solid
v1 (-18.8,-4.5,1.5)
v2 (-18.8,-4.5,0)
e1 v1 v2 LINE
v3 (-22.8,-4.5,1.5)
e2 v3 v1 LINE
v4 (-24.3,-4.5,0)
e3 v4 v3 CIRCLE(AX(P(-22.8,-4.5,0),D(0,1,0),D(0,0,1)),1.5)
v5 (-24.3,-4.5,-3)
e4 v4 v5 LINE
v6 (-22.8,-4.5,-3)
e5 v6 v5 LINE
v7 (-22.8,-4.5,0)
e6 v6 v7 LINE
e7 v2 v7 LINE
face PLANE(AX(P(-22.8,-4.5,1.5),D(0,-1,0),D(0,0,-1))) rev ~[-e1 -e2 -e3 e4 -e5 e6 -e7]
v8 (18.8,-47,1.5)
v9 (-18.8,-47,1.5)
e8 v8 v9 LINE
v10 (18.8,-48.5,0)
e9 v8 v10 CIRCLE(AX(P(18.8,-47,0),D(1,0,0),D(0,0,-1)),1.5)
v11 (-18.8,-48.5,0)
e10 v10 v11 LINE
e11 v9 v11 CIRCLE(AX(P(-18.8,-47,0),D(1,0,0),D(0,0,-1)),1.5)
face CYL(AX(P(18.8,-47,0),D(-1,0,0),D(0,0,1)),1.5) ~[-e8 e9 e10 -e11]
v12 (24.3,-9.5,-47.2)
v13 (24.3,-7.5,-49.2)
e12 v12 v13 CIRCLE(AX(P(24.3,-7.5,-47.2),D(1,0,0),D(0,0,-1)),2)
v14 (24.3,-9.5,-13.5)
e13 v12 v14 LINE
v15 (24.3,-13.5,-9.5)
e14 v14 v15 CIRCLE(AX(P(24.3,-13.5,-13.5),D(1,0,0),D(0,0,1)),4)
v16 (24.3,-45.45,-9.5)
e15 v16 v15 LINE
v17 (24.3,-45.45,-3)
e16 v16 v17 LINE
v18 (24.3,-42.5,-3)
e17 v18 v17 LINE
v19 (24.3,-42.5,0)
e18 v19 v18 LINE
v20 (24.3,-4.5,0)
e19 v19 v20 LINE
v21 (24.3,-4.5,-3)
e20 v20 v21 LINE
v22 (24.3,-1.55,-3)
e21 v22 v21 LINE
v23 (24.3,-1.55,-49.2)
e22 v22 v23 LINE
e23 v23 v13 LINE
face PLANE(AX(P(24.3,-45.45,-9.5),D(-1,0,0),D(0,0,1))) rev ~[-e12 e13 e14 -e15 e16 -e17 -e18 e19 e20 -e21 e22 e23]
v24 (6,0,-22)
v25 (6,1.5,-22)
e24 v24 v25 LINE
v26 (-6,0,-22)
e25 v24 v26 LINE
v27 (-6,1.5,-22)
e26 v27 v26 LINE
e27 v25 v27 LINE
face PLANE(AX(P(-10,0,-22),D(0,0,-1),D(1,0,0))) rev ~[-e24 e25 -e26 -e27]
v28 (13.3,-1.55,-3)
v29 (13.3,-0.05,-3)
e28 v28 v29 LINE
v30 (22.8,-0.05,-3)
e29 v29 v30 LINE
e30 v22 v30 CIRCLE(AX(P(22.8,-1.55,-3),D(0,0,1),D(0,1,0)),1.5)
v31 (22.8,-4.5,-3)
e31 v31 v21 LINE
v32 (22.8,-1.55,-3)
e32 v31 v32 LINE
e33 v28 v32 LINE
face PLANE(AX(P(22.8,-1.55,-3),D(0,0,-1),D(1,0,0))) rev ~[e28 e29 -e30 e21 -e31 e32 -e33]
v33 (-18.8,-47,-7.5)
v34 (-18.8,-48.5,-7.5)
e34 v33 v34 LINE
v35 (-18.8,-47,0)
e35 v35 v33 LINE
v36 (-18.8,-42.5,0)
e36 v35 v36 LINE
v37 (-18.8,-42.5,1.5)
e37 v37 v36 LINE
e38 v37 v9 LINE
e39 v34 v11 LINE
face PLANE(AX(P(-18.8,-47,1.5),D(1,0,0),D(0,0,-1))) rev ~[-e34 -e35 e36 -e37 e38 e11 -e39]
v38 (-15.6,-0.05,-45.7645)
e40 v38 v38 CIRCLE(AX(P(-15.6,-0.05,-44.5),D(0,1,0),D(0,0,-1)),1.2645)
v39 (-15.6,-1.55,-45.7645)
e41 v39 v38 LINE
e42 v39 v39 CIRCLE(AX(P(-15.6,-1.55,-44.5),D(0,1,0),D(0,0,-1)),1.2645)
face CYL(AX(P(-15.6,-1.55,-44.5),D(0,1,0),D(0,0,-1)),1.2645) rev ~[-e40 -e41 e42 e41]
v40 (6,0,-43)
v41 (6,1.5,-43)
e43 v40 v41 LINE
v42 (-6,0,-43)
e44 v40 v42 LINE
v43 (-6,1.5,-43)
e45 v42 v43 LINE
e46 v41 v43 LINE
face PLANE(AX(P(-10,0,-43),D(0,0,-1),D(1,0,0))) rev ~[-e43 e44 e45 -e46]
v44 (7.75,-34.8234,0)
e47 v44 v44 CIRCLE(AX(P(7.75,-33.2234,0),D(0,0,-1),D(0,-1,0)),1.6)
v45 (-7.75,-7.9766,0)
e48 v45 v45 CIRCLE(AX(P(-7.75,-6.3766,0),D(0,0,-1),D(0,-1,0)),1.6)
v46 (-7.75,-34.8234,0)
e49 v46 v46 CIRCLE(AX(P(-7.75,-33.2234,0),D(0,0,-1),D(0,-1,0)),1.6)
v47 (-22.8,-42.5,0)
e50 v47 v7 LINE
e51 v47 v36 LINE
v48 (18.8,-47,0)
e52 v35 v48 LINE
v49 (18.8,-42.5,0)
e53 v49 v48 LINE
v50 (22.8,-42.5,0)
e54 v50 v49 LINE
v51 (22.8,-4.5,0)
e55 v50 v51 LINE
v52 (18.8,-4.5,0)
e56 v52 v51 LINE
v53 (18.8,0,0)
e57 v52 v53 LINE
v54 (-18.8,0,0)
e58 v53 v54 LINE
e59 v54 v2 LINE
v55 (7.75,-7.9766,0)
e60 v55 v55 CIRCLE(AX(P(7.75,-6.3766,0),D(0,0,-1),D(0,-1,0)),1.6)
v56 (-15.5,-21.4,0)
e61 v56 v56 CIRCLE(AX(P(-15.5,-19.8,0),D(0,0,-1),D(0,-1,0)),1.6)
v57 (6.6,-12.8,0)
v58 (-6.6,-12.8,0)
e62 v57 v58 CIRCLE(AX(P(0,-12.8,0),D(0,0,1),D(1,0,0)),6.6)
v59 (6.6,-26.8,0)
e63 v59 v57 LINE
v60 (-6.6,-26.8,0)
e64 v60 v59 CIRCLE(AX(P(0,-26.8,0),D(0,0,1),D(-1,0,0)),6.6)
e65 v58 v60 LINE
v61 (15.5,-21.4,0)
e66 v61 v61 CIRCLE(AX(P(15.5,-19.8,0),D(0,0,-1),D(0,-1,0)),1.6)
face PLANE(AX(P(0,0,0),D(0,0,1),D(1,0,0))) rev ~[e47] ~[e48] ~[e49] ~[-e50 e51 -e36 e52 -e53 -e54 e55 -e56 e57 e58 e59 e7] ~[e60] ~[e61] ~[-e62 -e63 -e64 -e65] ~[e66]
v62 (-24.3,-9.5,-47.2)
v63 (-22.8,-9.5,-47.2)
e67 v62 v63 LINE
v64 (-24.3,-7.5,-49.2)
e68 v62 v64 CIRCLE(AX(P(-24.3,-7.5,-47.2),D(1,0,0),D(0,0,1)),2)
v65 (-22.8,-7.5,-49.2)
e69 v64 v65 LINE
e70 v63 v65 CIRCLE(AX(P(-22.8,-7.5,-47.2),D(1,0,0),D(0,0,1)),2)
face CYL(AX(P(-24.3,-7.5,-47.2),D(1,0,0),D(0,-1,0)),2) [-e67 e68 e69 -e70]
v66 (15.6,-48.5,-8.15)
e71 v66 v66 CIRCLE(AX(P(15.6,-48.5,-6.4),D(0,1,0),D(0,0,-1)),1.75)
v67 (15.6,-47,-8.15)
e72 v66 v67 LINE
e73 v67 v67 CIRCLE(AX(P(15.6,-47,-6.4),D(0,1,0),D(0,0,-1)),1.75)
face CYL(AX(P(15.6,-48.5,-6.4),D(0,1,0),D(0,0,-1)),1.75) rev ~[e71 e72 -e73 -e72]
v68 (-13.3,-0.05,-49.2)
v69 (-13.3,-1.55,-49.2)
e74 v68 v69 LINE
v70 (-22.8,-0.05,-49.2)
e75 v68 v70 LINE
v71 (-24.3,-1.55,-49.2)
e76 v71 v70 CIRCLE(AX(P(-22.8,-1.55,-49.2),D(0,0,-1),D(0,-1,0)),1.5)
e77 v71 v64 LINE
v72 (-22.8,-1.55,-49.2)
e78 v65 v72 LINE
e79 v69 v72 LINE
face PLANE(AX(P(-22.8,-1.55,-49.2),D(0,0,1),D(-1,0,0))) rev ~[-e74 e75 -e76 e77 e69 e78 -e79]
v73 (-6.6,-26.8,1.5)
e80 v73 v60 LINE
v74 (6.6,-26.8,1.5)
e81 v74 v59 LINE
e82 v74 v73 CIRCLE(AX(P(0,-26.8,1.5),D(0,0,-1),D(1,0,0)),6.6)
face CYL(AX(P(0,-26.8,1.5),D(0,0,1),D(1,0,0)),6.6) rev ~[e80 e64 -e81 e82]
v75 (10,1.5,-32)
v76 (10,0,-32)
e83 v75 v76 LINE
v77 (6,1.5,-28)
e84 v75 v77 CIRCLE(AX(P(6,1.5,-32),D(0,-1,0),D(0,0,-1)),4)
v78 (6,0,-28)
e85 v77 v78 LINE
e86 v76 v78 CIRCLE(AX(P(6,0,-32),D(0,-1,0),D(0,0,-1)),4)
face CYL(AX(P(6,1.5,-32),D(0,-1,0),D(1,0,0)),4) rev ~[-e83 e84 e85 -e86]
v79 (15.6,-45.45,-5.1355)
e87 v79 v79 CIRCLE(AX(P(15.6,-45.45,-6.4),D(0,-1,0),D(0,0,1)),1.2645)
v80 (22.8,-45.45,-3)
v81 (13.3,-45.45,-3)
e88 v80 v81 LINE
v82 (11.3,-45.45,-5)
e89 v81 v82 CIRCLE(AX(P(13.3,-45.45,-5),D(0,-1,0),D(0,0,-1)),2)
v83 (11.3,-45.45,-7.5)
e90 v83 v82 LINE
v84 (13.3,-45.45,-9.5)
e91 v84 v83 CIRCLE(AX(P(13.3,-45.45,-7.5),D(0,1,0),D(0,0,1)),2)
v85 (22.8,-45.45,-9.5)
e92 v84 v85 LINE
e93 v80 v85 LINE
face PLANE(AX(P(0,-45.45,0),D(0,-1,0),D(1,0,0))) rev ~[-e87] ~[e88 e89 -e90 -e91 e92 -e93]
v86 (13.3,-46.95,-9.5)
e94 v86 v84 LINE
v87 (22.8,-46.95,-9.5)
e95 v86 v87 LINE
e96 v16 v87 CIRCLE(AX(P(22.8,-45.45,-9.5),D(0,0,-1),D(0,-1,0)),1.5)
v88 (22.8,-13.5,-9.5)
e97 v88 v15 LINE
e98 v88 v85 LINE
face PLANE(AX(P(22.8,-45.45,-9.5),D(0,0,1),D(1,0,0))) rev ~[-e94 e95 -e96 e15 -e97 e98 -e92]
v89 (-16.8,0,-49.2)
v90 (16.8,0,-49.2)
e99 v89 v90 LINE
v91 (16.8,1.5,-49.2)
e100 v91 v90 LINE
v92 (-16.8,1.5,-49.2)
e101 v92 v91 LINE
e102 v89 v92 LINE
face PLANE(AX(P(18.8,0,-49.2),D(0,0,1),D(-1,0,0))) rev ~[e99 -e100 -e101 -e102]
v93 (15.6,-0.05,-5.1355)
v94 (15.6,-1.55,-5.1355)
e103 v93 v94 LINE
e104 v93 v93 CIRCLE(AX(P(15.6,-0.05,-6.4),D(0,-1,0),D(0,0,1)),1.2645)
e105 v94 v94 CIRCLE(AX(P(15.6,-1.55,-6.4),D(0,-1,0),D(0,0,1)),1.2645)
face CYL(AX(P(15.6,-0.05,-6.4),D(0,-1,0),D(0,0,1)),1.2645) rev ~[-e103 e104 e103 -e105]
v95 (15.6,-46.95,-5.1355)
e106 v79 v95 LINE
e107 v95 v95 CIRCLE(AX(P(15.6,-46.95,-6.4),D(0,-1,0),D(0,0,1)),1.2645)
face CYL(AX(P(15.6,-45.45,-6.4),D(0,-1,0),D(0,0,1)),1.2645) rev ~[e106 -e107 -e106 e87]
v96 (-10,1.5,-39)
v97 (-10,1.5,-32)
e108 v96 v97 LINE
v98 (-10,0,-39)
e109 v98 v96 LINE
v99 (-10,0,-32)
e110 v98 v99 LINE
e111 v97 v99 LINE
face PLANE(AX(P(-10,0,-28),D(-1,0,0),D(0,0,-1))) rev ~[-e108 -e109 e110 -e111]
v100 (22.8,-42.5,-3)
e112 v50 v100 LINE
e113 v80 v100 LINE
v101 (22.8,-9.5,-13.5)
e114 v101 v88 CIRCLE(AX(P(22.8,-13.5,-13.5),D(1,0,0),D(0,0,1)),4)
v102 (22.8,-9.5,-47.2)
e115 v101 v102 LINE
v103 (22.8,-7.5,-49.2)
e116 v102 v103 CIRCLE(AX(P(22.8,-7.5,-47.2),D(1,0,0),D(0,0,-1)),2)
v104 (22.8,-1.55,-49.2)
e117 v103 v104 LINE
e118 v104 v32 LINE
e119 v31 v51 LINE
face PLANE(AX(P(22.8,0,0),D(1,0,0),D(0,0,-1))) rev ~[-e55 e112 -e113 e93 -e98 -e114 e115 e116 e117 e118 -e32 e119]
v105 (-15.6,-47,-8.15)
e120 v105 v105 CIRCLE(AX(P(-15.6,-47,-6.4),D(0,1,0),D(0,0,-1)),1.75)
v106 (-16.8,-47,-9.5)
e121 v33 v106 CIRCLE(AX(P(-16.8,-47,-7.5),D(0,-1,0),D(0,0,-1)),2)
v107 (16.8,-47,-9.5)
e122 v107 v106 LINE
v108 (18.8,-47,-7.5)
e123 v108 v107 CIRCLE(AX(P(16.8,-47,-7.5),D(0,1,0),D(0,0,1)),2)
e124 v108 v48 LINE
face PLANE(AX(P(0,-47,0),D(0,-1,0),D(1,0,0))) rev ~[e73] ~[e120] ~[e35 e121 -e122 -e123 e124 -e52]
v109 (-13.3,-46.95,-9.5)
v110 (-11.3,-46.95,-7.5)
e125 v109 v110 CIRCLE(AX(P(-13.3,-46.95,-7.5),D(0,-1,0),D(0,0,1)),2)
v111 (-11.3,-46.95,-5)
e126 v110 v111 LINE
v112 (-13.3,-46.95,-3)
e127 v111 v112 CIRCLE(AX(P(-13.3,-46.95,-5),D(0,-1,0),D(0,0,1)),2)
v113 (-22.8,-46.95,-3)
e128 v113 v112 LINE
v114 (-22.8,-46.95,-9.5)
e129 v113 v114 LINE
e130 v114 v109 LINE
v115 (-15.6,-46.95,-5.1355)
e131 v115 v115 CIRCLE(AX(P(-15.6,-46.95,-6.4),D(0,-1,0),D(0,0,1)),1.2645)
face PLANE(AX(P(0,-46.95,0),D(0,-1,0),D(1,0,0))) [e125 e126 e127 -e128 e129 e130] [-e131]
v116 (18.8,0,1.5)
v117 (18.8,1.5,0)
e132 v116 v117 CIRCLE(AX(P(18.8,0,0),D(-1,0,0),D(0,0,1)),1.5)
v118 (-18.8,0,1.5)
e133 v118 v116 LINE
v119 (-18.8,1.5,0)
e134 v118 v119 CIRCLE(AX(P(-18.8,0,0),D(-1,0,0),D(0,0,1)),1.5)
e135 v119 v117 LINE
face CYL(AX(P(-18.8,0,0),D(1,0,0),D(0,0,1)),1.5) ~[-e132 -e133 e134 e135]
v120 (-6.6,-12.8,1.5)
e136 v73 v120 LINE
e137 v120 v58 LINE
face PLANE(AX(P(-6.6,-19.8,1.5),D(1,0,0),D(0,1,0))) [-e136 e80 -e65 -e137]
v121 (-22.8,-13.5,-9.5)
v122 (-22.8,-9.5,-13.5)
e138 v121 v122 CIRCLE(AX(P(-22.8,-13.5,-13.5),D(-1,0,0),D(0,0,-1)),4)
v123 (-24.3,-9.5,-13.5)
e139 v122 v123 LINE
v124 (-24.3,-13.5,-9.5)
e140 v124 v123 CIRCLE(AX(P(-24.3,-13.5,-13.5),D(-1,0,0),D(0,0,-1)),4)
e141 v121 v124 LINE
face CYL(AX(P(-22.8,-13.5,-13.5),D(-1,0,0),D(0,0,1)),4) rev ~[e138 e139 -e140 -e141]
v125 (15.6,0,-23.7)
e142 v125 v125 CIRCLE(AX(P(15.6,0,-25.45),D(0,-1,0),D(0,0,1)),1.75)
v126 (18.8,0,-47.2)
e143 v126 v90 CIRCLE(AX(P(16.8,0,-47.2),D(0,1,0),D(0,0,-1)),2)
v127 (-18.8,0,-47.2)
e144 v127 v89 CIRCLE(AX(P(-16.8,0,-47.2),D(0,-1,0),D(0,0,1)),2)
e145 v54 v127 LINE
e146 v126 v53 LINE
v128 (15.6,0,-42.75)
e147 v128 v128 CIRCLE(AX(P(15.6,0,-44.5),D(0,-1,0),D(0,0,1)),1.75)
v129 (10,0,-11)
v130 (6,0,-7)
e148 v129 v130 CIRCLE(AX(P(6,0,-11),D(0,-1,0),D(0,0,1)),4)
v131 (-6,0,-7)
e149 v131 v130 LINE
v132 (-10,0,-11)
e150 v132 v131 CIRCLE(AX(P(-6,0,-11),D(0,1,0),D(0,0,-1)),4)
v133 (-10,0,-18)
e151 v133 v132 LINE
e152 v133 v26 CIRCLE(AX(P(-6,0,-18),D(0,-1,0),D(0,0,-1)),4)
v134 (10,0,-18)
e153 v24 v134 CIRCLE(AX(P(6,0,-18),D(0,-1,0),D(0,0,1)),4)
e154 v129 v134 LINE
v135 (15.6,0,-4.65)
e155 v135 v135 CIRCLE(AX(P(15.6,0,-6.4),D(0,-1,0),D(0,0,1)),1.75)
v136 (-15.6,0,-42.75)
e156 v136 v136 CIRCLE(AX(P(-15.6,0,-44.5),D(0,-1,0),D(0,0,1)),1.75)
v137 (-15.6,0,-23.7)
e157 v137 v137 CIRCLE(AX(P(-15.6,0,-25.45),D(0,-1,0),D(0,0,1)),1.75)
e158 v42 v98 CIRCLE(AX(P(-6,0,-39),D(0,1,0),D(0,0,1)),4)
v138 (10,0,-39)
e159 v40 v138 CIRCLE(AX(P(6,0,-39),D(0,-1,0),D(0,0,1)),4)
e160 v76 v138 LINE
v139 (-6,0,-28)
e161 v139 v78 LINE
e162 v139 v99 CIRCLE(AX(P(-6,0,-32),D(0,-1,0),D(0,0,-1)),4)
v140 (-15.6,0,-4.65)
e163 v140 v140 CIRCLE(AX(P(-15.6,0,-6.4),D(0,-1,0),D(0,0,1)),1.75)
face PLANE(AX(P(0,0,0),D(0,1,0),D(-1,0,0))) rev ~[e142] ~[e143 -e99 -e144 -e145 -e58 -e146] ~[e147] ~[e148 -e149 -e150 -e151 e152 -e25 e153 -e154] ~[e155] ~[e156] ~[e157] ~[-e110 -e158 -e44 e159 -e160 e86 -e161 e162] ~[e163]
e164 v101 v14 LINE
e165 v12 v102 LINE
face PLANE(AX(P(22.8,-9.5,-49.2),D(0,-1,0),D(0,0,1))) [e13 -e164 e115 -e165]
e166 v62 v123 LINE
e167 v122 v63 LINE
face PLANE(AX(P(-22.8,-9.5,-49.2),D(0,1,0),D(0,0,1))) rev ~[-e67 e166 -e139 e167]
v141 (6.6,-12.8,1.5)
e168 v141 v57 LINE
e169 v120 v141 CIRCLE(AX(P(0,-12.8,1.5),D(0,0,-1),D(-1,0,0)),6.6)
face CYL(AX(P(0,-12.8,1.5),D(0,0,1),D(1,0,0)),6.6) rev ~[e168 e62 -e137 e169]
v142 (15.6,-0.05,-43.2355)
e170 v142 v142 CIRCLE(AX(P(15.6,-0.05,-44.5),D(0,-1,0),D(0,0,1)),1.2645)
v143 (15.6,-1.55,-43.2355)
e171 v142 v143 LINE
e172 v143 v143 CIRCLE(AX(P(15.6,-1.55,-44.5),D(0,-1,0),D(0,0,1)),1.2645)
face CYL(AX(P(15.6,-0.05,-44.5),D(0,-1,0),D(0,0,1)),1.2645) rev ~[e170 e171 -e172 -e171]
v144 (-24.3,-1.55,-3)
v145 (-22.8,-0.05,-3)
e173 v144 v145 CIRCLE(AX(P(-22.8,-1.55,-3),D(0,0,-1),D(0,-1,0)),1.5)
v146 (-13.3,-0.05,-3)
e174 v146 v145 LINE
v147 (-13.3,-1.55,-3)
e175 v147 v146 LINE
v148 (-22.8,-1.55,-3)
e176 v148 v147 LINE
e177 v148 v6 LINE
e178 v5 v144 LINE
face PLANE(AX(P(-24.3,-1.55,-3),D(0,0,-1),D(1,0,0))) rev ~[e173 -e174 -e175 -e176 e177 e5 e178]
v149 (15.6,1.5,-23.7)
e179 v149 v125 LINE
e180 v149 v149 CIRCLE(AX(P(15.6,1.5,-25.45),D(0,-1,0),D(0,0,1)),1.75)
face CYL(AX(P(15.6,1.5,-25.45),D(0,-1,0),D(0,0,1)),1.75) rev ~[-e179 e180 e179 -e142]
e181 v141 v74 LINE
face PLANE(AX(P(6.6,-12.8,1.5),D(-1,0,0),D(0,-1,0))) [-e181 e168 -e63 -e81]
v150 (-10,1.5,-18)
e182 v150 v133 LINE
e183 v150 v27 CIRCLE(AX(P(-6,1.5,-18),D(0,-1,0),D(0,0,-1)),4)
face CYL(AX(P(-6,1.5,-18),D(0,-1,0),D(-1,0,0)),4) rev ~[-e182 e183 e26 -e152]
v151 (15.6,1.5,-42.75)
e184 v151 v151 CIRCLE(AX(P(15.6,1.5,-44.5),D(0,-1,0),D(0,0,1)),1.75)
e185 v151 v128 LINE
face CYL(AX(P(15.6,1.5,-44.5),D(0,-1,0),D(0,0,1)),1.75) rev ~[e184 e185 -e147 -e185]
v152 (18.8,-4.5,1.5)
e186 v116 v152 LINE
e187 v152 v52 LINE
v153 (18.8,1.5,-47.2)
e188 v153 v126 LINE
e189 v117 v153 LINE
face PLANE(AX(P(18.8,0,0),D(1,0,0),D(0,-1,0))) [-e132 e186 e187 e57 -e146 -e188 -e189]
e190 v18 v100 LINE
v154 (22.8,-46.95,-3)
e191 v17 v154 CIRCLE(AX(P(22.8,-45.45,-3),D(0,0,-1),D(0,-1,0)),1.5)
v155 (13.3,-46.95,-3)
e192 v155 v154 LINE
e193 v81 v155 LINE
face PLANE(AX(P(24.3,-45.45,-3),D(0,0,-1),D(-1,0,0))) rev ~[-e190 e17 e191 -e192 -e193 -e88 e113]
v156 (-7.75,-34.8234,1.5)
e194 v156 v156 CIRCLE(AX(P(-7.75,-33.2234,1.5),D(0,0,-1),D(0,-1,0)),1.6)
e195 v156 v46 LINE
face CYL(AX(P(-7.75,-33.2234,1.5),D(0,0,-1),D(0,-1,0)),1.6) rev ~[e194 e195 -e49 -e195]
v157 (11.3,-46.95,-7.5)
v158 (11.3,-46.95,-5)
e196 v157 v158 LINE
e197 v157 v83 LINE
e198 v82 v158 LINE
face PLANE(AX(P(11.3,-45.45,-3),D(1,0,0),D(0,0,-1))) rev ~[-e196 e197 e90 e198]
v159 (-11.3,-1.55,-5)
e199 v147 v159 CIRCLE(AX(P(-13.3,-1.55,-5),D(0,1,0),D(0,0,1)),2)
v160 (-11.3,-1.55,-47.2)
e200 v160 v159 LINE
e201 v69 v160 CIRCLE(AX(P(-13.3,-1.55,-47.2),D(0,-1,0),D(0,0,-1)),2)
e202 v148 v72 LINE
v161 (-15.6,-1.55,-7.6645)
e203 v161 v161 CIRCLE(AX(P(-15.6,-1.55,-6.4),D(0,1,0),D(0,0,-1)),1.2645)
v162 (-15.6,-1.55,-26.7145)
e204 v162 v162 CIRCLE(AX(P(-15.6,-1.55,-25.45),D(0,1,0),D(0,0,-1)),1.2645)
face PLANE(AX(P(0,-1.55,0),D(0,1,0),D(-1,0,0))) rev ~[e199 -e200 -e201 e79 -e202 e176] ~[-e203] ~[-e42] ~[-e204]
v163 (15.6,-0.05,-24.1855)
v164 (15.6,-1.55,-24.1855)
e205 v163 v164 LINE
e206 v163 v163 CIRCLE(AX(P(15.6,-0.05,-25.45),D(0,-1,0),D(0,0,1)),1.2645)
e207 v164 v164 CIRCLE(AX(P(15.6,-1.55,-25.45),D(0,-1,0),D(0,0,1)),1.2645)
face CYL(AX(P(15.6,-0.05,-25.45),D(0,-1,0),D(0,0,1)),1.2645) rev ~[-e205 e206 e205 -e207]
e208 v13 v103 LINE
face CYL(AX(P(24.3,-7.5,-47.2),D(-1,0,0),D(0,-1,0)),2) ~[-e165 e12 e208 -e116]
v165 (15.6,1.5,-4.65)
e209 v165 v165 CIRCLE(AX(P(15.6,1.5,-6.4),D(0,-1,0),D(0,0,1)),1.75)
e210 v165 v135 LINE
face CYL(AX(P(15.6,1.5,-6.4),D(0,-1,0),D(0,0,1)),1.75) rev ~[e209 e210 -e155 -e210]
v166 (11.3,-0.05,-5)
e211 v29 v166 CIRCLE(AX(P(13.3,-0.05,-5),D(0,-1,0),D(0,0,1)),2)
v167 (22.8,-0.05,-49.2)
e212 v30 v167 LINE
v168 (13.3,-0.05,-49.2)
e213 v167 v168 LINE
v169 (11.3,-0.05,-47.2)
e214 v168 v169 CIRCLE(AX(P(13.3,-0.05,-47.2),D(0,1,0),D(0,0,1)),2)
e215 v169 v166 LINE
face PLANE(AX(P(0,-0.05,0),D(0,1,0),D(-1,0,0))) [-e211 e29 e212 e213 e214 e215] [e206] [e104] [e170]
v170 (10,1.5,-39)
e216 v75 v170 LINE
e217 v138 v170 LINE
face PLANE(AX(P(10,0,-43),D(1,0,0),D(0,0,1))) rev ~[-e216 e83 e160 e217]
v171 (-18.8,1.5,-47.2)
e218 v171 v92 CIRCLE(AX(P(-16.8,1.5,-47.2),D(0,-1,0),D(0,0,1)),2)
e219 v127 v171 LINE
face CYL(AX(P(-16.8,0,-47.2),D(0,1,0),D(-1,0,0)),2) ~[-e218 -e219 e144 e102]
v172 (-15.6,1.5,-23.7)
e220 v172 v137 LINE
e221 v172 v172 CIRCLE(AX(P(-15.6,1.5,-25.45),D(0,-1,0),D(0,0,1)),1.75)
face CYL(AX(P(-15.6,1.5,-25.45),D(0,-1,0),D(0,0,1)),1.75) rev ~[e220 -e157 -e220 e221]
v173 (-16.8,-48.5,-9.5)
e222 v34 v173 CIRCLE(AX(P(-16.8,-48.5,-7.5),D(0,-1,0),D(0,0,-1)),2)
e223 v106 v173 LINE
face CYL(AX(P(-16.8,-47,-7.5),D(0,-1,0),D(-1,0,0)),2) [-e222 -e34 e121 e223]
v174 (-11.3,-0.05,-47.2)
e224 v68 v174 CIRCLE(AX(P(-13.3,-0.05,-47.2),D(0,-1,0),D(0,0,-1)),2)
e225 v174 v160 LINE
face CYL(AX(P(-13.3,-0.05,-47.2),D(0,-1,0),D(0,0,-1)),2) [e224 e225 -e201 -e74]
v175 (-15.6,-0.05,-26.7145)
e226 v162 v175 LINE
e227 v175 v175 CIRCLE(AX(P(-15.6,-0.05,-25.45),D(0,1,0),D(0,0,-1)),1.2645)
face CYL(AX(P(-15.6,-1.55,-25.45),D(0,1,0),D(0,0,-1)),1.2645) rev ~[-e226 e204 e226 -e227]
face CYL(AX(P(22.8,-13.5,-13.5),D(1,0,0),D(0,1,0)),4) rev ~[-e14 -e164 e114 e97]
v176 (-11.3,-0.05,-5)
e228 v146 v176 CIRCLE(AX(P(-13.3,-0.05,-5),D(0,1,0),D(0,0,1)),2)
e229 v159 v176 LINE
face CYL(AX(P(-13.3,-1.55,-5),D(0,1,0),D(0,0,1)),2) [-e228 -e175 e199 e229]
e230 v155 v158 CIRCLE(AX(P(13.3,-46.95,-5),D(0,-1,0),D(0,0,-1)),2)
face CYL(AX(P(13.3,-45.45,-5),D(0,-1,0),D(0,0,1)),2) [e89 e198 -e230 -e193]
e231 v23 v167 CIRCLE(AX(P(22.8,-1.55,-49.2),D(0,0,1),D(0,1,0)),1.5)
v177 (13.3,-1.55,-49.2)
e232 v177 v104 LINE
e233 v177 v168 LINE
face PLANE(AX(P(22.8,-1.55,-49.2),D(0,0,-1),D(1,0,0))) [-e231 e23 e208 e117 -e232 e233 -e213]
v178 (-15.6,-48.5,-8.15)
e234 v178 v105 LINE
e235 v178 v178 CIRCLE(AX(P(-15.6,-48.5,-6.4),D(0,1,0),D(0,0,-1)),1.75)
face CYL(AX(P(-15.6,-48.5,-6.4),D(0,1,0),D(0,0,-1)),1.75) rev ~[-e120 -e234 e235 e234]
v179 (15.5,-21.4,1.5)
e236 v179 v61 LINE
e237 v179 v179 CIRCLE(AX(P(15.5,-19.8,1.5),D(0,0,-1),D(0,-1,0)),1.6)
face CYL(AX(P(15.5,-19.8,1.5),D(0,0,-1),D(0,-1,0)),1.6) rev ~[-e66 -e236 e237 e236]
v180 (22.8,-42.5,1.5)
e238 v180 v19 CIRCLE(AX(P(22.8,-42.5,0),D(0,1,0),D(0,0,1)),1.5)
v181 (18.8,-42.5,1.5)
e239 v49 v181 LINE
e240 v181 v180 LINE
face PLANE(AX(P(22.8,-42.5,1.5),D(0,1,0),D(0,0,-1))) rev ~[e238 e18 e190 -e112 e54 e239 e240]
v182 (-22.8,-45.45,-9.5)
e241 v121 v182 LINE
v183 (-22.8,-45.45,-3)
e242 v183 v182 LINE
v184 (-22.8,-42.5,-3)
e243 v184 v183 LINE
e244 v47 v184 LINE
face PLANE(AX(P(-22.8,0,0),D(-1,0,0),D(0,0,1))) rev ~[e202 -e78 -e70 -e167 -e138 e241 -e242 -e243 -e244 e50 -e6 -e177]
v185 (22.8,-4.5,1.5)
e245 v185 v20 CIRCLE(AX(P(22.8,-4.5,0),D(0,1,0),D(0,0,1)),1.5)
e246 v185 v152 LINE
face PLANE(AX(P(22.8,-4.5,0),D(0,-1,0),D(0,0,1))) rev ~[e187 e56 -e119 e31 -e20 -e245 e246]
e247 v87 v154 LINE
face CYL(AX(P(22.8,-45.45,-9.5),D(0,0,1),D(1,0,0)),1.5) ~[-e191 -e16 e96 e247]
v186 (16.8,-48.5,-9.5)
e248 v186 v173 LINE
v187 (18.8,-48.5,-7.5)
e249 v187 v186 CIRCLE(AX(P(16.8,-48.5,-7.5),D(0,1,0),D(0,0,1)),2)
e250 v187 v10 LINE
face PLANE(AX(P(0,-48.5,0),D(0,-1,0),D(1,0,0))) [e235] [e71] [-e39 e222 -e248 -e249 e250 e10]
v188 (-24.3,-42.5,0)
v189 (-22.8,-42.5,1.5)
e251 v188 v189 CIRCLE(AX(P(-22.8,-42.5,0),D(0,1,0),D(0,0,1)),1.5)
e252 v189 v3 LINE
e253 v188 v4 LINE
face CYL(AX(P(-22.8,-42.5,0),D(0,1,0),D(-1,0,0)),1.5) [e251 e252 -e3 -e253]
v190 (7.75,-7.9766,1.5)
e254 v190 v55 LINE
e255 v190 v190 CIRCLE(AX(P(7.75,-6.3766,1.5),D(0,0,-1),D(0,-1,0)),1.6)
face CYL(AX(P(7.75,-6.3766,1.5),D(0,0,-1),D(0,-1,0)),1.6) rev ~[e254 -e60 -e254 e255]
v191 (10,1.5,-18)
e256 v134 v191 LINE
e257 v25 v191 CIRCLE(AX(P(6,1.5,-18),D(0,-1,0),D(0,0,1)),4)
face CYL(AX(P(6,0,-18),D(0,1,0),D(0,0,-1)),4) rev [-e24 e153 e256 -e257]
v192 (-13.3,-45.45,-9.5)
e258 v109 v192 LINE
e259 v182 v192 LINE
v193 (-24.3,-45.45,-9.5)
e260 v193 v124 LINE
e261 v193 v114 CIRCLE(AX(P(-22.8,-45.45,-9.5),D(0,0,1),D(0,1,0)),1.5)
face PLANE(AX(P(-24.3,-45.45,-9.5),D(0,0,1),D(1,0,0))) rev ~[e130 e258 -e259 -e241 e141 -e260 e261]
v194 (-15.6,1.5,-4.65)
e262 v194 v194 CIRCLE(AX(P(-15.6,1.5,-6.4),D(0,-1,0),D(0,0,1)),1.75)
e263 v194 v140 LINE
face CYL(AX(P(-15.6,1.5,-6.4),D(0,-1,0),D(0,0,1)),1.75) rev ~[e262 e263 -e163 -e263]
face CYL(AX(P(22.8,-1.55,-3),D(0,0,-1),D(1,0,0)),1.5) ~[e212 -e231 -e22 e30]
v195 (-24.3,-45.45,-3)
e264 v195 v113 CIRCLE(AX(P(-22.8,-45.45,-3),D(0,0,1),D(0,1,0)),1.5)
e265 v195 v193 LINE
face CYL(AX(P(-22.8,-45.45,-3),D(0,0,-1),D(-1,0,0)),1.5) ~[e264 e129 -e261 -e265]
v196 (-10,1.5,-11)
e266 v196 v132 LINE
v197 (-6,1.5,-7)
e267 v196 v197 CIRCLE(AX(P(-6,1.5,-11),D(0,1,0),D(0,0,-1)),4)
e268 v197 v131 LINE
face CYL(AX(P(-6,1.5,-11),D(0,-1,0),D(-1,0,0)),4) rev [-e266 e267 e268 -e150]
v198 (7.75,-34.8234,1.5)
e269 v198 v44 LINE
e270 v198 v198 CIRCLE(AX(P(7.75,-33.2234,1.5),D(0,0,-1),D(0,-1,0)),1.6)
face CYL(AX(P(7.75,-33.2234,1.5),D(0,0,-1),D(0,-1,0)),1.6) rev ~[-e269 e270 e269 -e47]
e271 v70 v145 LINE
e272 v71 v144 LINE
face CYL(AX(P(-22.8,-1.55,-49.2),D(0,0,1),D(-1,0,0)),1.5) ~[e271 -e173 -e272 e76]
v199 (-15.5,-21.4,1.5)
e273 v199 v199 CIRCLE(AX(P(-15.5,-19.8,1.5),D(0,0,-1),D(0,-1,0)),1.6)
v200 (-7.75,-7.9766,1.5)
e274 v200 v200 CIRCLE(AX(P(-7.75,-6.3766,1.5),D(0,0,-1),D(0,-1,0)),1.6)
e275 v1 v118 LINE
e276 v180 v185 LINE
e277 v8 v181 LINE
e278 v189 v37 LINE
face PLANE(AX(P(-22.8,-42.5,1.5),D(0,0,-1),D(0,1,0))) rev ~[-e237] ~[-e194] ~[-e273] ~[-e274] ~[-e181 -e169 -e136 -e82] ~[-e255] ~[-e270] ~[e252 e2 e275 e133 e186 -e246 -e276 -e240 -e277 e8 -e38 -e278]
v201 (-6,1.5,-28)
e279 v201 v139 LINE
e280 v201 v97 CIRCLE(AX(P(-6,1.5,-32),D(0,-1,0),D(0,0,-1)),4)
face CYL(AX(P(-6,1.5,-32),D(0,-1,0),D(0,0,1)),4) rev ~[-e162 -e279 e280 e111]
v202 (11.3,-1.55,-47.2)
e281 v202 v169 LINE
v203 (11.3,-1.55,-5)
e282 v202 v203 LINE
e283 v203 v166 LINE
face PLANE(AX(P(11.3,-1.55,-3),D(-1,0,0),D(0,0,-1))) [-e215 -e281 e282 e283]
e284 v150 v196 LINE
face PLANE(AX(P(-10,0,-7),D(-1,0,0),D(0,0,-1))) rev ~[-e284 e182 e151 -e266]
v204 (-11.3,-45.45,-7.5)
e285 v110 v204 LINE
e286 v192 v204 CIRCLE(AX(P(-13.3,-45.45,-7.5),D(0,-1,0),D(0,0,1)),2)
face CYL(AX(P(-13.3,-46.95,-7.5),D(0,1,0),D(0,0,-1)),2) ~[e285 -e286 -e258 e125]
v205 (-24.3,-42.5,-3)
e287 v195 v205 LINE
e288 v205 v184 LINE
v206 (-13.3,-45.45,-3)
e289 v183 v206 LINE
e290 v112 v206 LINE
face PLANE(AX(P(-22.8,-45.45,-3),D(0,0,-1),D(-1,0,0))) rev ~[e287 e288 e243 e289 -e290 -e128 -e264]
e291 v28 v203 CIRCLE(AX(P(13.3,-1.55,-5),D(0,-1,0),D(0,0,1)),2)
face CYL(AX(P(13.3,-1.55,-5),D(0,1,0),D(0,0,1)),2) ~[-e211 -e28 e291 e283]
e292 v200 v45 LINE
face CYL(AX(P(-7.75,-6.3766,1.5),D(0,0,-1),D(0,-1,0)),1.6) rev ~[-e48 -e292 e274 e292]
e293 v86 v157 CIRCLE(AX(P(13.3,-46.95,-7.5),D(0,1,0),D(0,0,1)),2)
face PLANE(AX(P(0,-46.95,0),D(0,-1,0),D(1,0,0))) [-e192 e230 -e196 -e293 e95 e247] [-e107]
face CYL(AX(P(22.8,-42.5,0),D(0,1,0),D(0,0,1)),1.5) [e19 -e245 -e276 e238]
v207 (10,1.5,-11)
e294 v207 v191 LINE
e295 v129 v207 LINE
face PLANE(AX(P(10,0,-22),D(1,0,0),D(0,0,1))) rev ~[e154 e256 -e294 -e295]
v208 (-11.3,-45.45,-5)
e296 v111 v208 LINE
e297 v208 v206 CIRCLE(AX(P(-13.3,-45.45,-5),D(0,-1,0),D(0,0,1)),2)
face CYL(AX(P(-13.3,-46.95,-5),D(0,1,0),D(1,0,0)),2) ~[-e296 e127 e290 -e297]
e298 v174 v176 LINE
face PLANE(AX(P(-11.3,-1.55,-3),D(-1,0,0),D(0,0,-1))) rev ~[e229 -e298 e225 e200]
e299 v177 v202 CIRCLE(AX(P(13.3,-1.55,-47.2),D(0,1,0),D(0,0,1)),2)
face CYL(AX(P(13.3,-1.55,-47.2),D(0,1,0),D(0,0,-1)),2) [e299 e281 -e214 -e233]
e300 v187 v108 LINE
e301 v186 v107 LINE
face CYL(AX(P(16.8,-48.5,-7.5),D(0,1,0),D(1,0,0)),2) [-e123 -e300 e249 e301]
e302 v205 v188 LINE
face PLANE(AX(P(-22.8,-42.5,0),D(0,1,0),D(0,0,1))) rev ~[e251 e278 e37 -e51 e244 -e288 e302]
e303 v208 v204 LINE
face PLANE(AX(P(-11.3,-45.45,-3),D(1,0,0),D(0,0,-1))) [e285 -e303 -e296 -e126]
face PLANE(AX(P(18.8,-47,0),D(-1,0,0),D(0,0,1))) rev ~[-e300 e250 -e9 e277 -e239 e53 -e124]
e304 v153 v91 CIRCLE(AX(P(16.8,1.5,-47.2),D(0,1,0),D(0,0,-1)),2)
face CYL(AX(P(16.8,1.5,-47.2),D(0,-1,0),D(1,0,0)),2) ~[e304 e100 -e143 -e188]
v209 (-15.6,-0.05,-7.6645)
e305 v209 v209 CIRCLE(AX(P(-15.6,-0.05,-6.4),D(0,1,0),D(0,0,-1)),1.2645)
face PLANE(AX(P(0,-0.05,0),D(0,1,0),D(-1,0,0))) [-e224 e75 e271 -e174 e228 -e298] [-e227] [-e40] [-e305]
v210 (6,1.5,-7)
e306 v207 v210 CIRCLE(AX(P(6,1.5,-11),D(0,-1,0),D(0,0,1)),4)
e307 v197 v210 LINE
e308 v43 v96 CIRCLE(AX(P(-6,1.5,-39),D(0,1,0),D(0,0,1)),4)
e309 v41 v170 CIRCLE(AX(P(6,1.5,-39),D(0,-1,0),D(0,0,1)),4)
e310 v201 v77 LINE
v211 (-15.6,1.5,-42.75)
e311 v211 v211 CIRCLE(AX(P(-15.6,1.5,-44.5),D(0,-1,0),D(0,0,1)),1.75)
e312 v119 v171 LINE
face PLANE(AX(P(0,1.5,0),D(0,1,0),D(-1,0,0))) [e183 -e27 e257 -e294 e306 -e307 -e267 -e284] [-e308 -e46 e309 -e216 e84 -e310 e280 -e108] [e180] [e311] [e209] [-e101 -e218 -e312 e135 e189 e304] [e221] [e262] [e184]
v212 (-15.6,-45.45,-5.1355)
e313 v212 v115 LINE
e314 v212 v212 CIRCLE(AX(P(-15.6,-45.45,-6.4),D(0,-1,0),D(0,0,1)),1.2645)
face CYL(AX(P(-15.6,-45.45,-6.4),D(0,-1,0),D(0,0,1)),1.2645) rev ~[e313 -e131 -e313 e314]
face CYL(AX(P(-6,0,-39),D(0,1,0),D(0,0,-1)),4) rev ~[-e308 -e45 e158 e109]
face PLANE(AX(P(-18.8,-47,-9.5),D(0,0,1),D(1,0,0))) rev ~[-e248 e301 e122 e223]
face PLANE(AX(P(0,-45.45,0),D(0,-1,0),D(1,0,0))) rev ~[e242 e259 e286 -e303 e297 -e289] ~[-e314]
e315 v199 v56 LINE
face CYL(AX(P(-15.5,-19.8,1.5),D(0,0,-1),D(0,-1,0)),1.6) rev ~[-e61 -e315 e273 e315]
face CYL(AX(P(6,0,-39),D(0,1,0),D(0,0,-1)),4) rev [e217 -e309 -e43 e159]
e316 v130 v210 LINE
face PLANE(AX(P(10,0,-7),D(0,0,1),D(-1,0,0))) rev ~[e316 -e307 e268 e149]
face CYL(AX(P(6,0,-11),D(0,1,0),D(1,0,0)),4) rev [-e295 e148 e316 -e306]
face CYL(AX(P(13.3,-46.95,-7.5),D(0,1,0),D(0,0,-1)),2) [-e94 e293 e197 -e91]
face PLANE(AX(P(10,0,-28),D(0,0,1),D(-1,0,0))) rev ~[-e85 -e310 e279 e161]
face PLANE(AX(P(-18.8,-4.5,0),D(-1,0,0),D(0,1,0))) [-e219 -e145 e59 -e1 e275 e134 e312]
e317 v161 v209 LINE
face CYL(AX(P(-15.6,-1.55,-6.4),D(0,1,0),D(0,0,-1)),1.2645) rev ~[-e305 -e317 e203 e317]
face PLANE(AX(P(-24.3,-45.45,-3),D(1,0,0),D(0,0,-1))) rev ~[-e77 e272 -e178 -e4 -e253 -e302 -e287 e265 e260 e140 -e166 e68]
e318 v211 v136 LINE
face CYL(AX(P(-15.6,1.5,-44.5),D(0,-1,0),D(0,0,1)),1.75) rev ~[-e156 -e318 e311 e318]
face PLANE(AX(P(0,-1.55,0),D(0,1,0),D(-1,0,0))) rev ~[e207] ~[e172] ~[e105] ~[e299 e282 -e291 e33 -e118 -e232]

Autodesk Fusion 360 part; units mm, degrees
sketch "スケッチ10" plane through (0, 0, 0) normal (0, 0, 1) x (1, 0, 0)
  line L0 (-18.8, 0) -> (18.8, 0)
  line L1 (18.8, 0) -> (18.8, -4.5)
  line L2 (18.8, -4.5) -> (22.8, -4.5)
  line L3 (22.8, -4.5) -> (22.8, -42.5)
  line L4 (22.8, -42.5) -> (18.8, -42.5)
  line L5 (18.8, -42.5) -> (18.8, -47)
  line L6 (18.8, -47) -> (-18.8, -47)
  line L7 (-18.8, -47) -> (-18.8, -42.5)
  line L8 (-18.8, -42.5) -> (-22.8, -42.5)
  line L9 (-22.8, -42.5) -> (-22.8, -4.5)
  line L10 (-22.8, -4.5) -> (-18.8, -4.5)
  line L11 (-18.8, -4.5) -> (-18.8, 0)
  dimension "d76" = 37.6
  dimension "d77" = 4.5
  dimension "d78" = 38
  dimension "d79" = 4.5
  dimension "d80" = 4
  dimension "d81" = 4
extrude "押し出し8" add sketch "スケッチ10" along normal blind 1.5
sketch "スケッチ11" plane through (0, 0, 0) normal (0, 1, 0) x (-1, 0, 0)
  line L0 (-18.8, 0) -> (18.8, 0)
  line L1 (18.8, 0) -> (18.8, 1.5)
  line L2 (18.8, 1.5) -> (-18.8, 1.5)
  line L3 (-18.8, 1.5) -> (-18.8, 0)
  line L4 (18.8, 1.5) -> (-18.8, 1.5)
  line L5 (-18.8, 1.5) -> (-18.8, -49.2)
  line L6 (-18.8, -49.2) -> (18.8, -49.2)
  line L7 (18.8, -49.2) -> (18.8, 1.5)
  line L8 (-10, -7) -> (10, -7)
  line L9 (10, -7) -> (10, -22)
  line L10 (10, -22) -> (-10, -22)
  line L11 (-10, -22) -> (-10, -7)
  line L12 (-10, -28) -> (10, -28)
  line L13 (10, -28) -> (10, -43)
  line L14 (10, -43) -> (-10, -43)
  line L15 (-10, -43) -> (-10, -28)
  point P0 (0, -7)
  dimension "d84" = 50.7
  dimension "d172" = 7
  dimension "d173" = 15
  dimension "d174" = 6
  dimension "d175" = 15
  dimension "d176" = 20
extrude "押し出し9" add sketch "スケッチ11" along normal blind 1.5
sketch "スケッチ17" plane through (0, 1.5, 0) normal (0, 1, 0) x (-1, 0, 0)
  line L0 (18.8, -49.2) -> (18.8, 1.5)
  line L1 (18.8, 1.5) -> (-18.8, 1.5)
  line L2 (-18.8, 1.5) -> (-18.8, -49.2)
  line L3 (-18.8, -49.2) -> (18.8, -49.2)
  line L4 (15.6, -6.4) -> (-15.6, -6.4)
  line L5 (-15.6, -6.4) -> (-15.6, -44.5)
  line L6 (-15.6, -44.5) -> (15.6, -44.5)
  line L7 (15.6, -44.5) -> (15.6, -6.4)
  line L8 (15.6, -25.45) -> (-15.6, -25.45)
  line L9 (10, -22) -> (-10, -22)
  line L10 (-10, -22) -> (-10, -7)
  line L11 (-10, -7) -> (10, -7)
  line L12 (10, -7) -> (10, -22)
  line L13 (10, -43) -> (-10, -43)
  line L14 (-10, -43) -> (-10, -28)
  line L15 (-10, -28) -> (10, -28)
  line L16 (10, -28) -> (10, -43)
  point P0 (0, -6.4)
  dimension "d112" = 7.9
  dimension "d113" = 31.2
  dimension "d114" = 19.05
  dimension "d115" = 19.05
hole "穴5" at (-15.6, 1.5, -44.5) at (15.6, 1.5, -44.5) at (15.6, 1.5, -25.45) at (-15.6, 1.5, -25.45) at (-15.6, 1.5, -6.4) at (15.6, 1.5, -6.4) direction (0, -1, 0) diameter 3.5 end through all
sketch "スケッチ12" plane through (0, -47, 0) normal (0, -1, 0) x (1, 0, 0)
  line L0 (-18.8, 0) -> (18.8, 0)
  line L1 (18.8, 0) -> (18.8, 1.5)
  line L2 (18.8, 1.5) -> (-18.8, 1.5)
  line L3 (-18.8, 1.5) -> (-18.8, 0)
  line L4 (18.8, 1.5) -> (-18.8, 1.5)
  line L5 (-18.8, 1.5) -> (-18.8, -9.5)
  line L6 (-18.8, -9.5) -> (18.8, -9.5)
  line L7 (18.8, -9.5) -> (18.8, 1.5)
  dimension "d87" = 11
extrude "押し出し10" add sketch "スケッチ12" along normal blind 1.5
sketch "スケッチ18" plane through (0, -48.5, 0) normal (0, -1, 0) x (1, 0, 0)
  line L0 (18.8, -9.5) -> (18.8, 1.5)
  line L1 (18.8, 1.5) -> (-18.8, 1.5)
  line L2 (-18.8, 1.5) -> (-18.8, -9.5)
  line L3 (-18.8, -9.5) -> (18.8, -9.5)
  line L4 (15.6, -6.4) -> (-15.6, -6.4)
  point P0 (0, -6.4)
  dimension "d119" = 7.9
  dimension "d120" = 31.2
hole "穴6" at (15.6, -48.5, -6.4) at (-15.6, -48.5, -6.4) direction (0, 1, 0) diameter 3.5 depth 1.5 tip angle 118
sketch "スケッチ13" plane through (22.8, 0, 0) normal (1, 0, 0) x (0, 0, -1)
  line L0 (0, -42.5) -> (0, -4.5)
  line L1 (0, -4.5) -> (-1.5, -4.5)
  line L2 (-1.5, -4.5) -> (-1.5, -42.5)
  line L3 (-1.5, -42.5) -> (0, -42.5)
  line L4 (-1.5, -4.5) -> (3, -4.5)
  line L5 (3, -4.5) -> (3, -1.55)
  line L6 (3, -1.55) -> (49.2, -1.55)
  line L7 (9.5, -45.45) -> (3, -45.45)
  line L8 (3, -45.45) -> (3, -42.5)
  line L9 (3, -42.5) -> (-1.5, -42.5)
  line L10 (-1.5, -42.5) -> (-1.5, -4.5)
  line L11 (49.2, -1.55) -> (49.2, -9.5)
  line L12 (49.2, -9.5) -> (9.5, -9.5)
  line L13 (9.5, -9.5) -> (9.5, -45.45)
  dimension "d90" = 4.5
  dimension "d92" = 2.95
  dimension "d93" = 2.95
  dimension "d109" = 46.2
  dimension "d110" = 7.95
  dimension "d111" = 6.5
extrude "押し出し11" add sketch "スケッチ13" along normal blind 1.5
sketch "スケッチ20" plane through (-22.8, 0, 0) normal (-1, 0, 0) x (0, 0, 1)
  line L0 (0, -4.5) -> (0, -42.5)
  line L1 (0, -42.5) -> (1.5, -42.5)
  line L2 (1.5, -42.5) -> (1.5, -4.5)
  line L3 (1.5, -4.5) -> (0, -4.5)
  line L4 (1.5, -4.5) -> (-3, -4.5)
  line L5 (-3, -4.5) -> (-3, -1.55)
  line L6 (-3, -1.55) -> (-49.2, -1.55)
  line L7 (-49.2, -1.55) -> (-49.2, -9.5)
  line L8 (-49.2, -9.5) -> (-9.5, -9.5)
  line L9 (-9.5, -9.5) -> (-9.5, -45.45)
  line L10 (-9.5, -45.45) -> (-3, -45.45)
  line L11 (-3, -45.45) -> (-3, -42.5)
  line L12 (-3, -42.5) -> (1.5, -42.5)
  line L13 (1.5, -42.5) -> (1.5, -4.5)
  point P0 (-3, -4.5)
  point P1 (-3, -1.55)
  point P2 (-49.2, -1.55)
  point P3 (-49.2, -9.5)
  point P4 (-9.5, -9.5)
  point P5 (-9.5, -45.45)
  point P6 (-3, -42.5)
extrude "押し出し14" add sketch "スケッチ20" along normal blind 1.5
sketch "スケッチ14" plane through (0, -1.55, 0) normal (0, 1, 0) x (-1, 0, 0)
  line L0 (-22.8, -49.2) -> (-22.8, -3)
  line L1 (-22.8, -3) -> (-24.3, -3)
  line L2 (-24.3, -3) -> (-24.3, -49.2)
  line L3 (-24.3, -3) -> (-11.3, -3)
  line L4 (-11.3, -3) -> (-11.3, -49.2)
  line L5 (-11.3, -49.2) -> (-24.3, -49.2)
  line L6 (-24.3, -49.2) -> (-24.3, -3)
  line L7 (-24.3, -49.2) -> (-22.8, -49.2)
  dimension "d96" = 13
extrude "押し出し12" add sketch "スケッチ14" along normal blind 1.5
sketch "スケッチ19" plane through (0, -0.05, 0) normal (0, 1, 0) x (-1, 0, 0)
  line L0 (-11.3, -49.2) -> (-11.3, -3)
  line L1 (-11.3, -3) -> (-24.3, -3)
  line L2 (-24.3, -3) -> (-24.3, -49.2)
  line L3 (-24.3, -49.2) -> (-11.3, -49.2)
  line L4 (-15.6, -6.4) -> (-15.6, -44.5)
  line L5 (18.8, 1.5) -> (-18.8, 1.5)
  point P0 (-15.6, -25.45)
  dimension "d124" = 15.6
  dimension "d125" = 7.9
  dimension "d126" = 38.1
hole "穴7" at (15.6, -0.05, -44.5) at (15.6, -0.05, -25.45) at (15.6, -0.05, -6.4) direction (0, -1, 0) diameter 3 depth 1.5 tip angle 118
sketch "スケッチ15" plane through (0, -45.45, 0) normal (0, -1, 0) x (1, 0, 0)
  line L0 (22.8, -3) -> (22.8, -9.5)
  line L1 (24.3, -9.5) -> (24.3, -3)
  line L2 (24.3, -3) -> (22.8, -3)
  line L3 (24.3, -3) -> (11.3, -3)
  line L4 (11.3, -3) -> (11.3, -9.5)
  line L5 (11.3, -9.5) -> (24.3, -9.5)
  line L6 (24.3, -9.5) -> (24.3, -3)
  line L7 (22.8, -9.5) -> (24.3, -9.5)
  line L8 (18.8, 1.5) -> (-18.8, 1.5)
  point P0 (15.6, -6.4)
  dimension "d99" = 13
  dimension "d134" = 7.9
  dimension "d135" = 15.6
extrude "押し出し13" add sketch "スケッチ15" along normal blind 1.5
hole "穴8" at (15.6, -45.45, -6.4) direction (0, -1, 0) diameter 3 end through all
sketch "スケッチ21" plane through (0, -1.55, 0) normal (0, 1, 0) x (-1, 0, 0)
  line L0 (22.8, -3) -> (22.8, -49.2)
  line L1 (22.8, -49.2) -> (24.3, -49.2)
  line L2 (24.3, -49.2) -> (24.3, -3)
  line L3 (24.3, -3) -> (22.8, -3)
  line L4 (24.3, -3) -> (11.3, -3)
  line L5 (11.3, -3) -> (11.3, -49.2)
  line L6 (11.3, -49.2) -> (24.3, -49.2)
  line L7 (24.3, -49.2) -> (24.3, -3)
  line L8 (15.6, -6.4) -> (15.6, -44.5)
  line L9 (18.8, 1.5) -> (-18.8, 1.5)
  point P0 (15.6, -25.45)
  dimension "d139" = 13
  dimension "d140" = 7.9
  dimension "d141" = 15.6
  dimension "d142" = 38.1
extrude "押し出し15" add sketch "スケッチ21" along normal blind 1.5
hole "穴9" at (-15.6, -1.55, -44.5) at (-15.6, -1.55, -25.45) at (-15.6, -1.55, -6.4) direction (0, 1, 0) diameter 3 end through all
sketch "スケッチ22" plane through (0, -45.45, 0) normal (0, -1, 0) x (1, 0, 0)
  line L0 (-22.8, -9.5) -> (-22.8, -3)
  line L1 (-22.8, -3) -> (-24.3, -3)
  line L2 (-24.3, -3) -> (-24.3, -9.5)
  line L3 (-24.3, -9.5) -> (-22.8, -9.5)
  line L4 (-24.3, -3) -> (-11.3, -3)
  line L5 (-11.3, -3) -> (-11.3, -9.5)
  line L6 (-11.3, -9.5) -> (-24.3, -9.5)
  line L7 (-24.3, -9.5) -> (-24.3, -3)
  line L8 (18.8, 1.5) -> (-18.8, 1.5)
  point P0 (-15.6, -6.4)
  dimension "d148" = 13
  dimension "d149" = 7.9
  dimension "d150" = 15.6
extrude "押し出し16" add sketch "スケッチ22" along normal blind 1.5
hole "穴10" at (-15.6, -45.45, -6.4) direction (0, -1, 0) diameter 3 end through all
thread "ねじ1" "ISO Metric profile 3.0 M3x0.5 6H" major diameter 3.086 minor diameter 2.529 pitch 0.5 angle 60 resizes the face on face at (15.7494, -1.05, -4.9075) on face at (16.9348, -1.05, -45.1843) on face at (-14.2327, -1.05, -43.8831) on face at (15.7494, -1.05, -23.9575) on face at (-15.4506, -0.55, -7.8925) on face at (-15.5252, -1.05, -26.9481) on face at (15.7494, -46.45, -4.9075) on face at (-15.4506, -46.45, -4.9075)
fillet "フィレット3" radius 1.5 8 edges at (0, 1.5, 1.5) (-24.3, -0.05, -26.1) (24.3, -0.05, -26.1) (24.3, -23.5, 1.5) (-24.3, -23.5, 1.5) (0, -48.5, 1.5) (-24.3, -46.95, -6.25) (24.3, -46.95, -6.25)
sketch "スケッチ23" plane through (0, 0, 1.5) normal (0, 0, 1) x (1, 0, 0)
  line L0 (-18.8, -47) -> (18.8, -47)
  line L1 (18.8, -47) -> (18.8, -42.5)
  line L2 (18.8, -42.5) -> (22.8, -42.5)
  line L3 (22.8, -42.5) -> (22.8, -4.5)
  line L4 (22.8, -4.5) -> (18.8, -4.5)
  line L5 (18.8, -4.5) -> (18.8, 0)
  line L6 (18.8, 0) -> (-18.8, 0)
  line L7 (-18.8, 0) -> (-18.8, -4.5)
  line L8 (-18.8, -4.5) -> (-22.8, -4.5)
  line L9 (-22.8, -4.5) -> (-22.8, -42.5)
  line L10 (-22.8, -42.5) -> (-18.8, -42.5)
  line L11 (-18.8, -42.5) -> (-18.8, -47)
  circle A0 centre (0, -19.8) radius 15.5
  line L12 (-15.5, -19.8) -> (15.5, -19.8)
  line L13 (-7.75, -6.3766) -> (7.75, -33.2234)
  line L14 (7.75, -6.3766) -> (-7.75, -33.2234)
  line L15 (-6.6, -12.8) -> (6.6, -12.8)
  line L16 (6.6, -12.8) -> (6.6, -26.8)
  line L17 (6.6, -26.8) -> (-6.6, -26.8)
  line L18 (-6.6, -26.8) -> (-6.6, -12.8)
  line L19 (-6.6, -12.8) -> (6.6, -26.8) construction
  line L20 (6.6, -12.8) -> (-6.6, -26.8) construction
  circle A1 centre (0, -12.8) radius 6.6
  circle A2 centre (0, -26.8) radius 6.6
  point P0 (0, -19.8)
  dimension "d158" = 19.8
  dimension "d159" = 31
  dimension "d160" = 60
  dimension "d161" = 60
  dimension "d162" = 14
  dimension "d163" = 13.2
extrude "押し出し17" cut sketch "スケッチ23" against normal through all contours L12 L13 L16 A2 | L12 L14 L16 A1 | L14 L15 A1 | L13 L14 L15 A1 | L13 L14 L17 A2 | L13 L17 A2 | L12 L14 L18 A2 | L12 L13 L18 A1 | L13 L14 A1 | L13 L14 A2 | L14 L15 A1 | L13 L17 A2 | L13 L15 A1 | L13 L14 L15 A1 | L14 L17 A2 | L13 L14 L17 A2 | L13 L15 A1 | L14 L17 A2
hole "穴11" at (7.75, -6.3766, 1.5) at (-7.75, -6.3766, 1.5) at (-15.5, -19.8, 1.5) at (-7.75, -33.2234, 1.5) at (7.75, -33.2234, 1.5) at (15.5, -19.8, 1.5) direction (0, 0, -1) diameter 3.2 end through all
fillet "フィレット4" radius 2 14 edges at (18.8, 0.75, -49.2) (-18.8, 0.75, -49.2) (-11.3, -0.8, -49.2) (11.3, -0.8, -49.2) (23.55, -9.5, -49.2) (-23.55, -9.5, -49.2) (18.8, -47.75, -9.5) (11.3, -46.2, -9.5) (-11.3, -46.2, -9.5) (-18.8, -47.75, -9.5) (11.3, -0.8, -3) (-11.3, -0.8, -3) (-11.3, -46.2, -3) (11.3, -46.2, -3)
fillet "フィレット5" radius 4 2 edges at (23.55, -9.5, -9.5) (-23.55, -9.5, -9.5)
fillet "フィレット6" radius 4 8 edges at (10, 0.75, -7) (-10, 0.75, -7) (-10, 0.75, -22) (10, 0.75, -22) (10, 0.75, -28) (-10, 0.75, -28) (10, 0.75, -43) (-10, 0.75, -43)
